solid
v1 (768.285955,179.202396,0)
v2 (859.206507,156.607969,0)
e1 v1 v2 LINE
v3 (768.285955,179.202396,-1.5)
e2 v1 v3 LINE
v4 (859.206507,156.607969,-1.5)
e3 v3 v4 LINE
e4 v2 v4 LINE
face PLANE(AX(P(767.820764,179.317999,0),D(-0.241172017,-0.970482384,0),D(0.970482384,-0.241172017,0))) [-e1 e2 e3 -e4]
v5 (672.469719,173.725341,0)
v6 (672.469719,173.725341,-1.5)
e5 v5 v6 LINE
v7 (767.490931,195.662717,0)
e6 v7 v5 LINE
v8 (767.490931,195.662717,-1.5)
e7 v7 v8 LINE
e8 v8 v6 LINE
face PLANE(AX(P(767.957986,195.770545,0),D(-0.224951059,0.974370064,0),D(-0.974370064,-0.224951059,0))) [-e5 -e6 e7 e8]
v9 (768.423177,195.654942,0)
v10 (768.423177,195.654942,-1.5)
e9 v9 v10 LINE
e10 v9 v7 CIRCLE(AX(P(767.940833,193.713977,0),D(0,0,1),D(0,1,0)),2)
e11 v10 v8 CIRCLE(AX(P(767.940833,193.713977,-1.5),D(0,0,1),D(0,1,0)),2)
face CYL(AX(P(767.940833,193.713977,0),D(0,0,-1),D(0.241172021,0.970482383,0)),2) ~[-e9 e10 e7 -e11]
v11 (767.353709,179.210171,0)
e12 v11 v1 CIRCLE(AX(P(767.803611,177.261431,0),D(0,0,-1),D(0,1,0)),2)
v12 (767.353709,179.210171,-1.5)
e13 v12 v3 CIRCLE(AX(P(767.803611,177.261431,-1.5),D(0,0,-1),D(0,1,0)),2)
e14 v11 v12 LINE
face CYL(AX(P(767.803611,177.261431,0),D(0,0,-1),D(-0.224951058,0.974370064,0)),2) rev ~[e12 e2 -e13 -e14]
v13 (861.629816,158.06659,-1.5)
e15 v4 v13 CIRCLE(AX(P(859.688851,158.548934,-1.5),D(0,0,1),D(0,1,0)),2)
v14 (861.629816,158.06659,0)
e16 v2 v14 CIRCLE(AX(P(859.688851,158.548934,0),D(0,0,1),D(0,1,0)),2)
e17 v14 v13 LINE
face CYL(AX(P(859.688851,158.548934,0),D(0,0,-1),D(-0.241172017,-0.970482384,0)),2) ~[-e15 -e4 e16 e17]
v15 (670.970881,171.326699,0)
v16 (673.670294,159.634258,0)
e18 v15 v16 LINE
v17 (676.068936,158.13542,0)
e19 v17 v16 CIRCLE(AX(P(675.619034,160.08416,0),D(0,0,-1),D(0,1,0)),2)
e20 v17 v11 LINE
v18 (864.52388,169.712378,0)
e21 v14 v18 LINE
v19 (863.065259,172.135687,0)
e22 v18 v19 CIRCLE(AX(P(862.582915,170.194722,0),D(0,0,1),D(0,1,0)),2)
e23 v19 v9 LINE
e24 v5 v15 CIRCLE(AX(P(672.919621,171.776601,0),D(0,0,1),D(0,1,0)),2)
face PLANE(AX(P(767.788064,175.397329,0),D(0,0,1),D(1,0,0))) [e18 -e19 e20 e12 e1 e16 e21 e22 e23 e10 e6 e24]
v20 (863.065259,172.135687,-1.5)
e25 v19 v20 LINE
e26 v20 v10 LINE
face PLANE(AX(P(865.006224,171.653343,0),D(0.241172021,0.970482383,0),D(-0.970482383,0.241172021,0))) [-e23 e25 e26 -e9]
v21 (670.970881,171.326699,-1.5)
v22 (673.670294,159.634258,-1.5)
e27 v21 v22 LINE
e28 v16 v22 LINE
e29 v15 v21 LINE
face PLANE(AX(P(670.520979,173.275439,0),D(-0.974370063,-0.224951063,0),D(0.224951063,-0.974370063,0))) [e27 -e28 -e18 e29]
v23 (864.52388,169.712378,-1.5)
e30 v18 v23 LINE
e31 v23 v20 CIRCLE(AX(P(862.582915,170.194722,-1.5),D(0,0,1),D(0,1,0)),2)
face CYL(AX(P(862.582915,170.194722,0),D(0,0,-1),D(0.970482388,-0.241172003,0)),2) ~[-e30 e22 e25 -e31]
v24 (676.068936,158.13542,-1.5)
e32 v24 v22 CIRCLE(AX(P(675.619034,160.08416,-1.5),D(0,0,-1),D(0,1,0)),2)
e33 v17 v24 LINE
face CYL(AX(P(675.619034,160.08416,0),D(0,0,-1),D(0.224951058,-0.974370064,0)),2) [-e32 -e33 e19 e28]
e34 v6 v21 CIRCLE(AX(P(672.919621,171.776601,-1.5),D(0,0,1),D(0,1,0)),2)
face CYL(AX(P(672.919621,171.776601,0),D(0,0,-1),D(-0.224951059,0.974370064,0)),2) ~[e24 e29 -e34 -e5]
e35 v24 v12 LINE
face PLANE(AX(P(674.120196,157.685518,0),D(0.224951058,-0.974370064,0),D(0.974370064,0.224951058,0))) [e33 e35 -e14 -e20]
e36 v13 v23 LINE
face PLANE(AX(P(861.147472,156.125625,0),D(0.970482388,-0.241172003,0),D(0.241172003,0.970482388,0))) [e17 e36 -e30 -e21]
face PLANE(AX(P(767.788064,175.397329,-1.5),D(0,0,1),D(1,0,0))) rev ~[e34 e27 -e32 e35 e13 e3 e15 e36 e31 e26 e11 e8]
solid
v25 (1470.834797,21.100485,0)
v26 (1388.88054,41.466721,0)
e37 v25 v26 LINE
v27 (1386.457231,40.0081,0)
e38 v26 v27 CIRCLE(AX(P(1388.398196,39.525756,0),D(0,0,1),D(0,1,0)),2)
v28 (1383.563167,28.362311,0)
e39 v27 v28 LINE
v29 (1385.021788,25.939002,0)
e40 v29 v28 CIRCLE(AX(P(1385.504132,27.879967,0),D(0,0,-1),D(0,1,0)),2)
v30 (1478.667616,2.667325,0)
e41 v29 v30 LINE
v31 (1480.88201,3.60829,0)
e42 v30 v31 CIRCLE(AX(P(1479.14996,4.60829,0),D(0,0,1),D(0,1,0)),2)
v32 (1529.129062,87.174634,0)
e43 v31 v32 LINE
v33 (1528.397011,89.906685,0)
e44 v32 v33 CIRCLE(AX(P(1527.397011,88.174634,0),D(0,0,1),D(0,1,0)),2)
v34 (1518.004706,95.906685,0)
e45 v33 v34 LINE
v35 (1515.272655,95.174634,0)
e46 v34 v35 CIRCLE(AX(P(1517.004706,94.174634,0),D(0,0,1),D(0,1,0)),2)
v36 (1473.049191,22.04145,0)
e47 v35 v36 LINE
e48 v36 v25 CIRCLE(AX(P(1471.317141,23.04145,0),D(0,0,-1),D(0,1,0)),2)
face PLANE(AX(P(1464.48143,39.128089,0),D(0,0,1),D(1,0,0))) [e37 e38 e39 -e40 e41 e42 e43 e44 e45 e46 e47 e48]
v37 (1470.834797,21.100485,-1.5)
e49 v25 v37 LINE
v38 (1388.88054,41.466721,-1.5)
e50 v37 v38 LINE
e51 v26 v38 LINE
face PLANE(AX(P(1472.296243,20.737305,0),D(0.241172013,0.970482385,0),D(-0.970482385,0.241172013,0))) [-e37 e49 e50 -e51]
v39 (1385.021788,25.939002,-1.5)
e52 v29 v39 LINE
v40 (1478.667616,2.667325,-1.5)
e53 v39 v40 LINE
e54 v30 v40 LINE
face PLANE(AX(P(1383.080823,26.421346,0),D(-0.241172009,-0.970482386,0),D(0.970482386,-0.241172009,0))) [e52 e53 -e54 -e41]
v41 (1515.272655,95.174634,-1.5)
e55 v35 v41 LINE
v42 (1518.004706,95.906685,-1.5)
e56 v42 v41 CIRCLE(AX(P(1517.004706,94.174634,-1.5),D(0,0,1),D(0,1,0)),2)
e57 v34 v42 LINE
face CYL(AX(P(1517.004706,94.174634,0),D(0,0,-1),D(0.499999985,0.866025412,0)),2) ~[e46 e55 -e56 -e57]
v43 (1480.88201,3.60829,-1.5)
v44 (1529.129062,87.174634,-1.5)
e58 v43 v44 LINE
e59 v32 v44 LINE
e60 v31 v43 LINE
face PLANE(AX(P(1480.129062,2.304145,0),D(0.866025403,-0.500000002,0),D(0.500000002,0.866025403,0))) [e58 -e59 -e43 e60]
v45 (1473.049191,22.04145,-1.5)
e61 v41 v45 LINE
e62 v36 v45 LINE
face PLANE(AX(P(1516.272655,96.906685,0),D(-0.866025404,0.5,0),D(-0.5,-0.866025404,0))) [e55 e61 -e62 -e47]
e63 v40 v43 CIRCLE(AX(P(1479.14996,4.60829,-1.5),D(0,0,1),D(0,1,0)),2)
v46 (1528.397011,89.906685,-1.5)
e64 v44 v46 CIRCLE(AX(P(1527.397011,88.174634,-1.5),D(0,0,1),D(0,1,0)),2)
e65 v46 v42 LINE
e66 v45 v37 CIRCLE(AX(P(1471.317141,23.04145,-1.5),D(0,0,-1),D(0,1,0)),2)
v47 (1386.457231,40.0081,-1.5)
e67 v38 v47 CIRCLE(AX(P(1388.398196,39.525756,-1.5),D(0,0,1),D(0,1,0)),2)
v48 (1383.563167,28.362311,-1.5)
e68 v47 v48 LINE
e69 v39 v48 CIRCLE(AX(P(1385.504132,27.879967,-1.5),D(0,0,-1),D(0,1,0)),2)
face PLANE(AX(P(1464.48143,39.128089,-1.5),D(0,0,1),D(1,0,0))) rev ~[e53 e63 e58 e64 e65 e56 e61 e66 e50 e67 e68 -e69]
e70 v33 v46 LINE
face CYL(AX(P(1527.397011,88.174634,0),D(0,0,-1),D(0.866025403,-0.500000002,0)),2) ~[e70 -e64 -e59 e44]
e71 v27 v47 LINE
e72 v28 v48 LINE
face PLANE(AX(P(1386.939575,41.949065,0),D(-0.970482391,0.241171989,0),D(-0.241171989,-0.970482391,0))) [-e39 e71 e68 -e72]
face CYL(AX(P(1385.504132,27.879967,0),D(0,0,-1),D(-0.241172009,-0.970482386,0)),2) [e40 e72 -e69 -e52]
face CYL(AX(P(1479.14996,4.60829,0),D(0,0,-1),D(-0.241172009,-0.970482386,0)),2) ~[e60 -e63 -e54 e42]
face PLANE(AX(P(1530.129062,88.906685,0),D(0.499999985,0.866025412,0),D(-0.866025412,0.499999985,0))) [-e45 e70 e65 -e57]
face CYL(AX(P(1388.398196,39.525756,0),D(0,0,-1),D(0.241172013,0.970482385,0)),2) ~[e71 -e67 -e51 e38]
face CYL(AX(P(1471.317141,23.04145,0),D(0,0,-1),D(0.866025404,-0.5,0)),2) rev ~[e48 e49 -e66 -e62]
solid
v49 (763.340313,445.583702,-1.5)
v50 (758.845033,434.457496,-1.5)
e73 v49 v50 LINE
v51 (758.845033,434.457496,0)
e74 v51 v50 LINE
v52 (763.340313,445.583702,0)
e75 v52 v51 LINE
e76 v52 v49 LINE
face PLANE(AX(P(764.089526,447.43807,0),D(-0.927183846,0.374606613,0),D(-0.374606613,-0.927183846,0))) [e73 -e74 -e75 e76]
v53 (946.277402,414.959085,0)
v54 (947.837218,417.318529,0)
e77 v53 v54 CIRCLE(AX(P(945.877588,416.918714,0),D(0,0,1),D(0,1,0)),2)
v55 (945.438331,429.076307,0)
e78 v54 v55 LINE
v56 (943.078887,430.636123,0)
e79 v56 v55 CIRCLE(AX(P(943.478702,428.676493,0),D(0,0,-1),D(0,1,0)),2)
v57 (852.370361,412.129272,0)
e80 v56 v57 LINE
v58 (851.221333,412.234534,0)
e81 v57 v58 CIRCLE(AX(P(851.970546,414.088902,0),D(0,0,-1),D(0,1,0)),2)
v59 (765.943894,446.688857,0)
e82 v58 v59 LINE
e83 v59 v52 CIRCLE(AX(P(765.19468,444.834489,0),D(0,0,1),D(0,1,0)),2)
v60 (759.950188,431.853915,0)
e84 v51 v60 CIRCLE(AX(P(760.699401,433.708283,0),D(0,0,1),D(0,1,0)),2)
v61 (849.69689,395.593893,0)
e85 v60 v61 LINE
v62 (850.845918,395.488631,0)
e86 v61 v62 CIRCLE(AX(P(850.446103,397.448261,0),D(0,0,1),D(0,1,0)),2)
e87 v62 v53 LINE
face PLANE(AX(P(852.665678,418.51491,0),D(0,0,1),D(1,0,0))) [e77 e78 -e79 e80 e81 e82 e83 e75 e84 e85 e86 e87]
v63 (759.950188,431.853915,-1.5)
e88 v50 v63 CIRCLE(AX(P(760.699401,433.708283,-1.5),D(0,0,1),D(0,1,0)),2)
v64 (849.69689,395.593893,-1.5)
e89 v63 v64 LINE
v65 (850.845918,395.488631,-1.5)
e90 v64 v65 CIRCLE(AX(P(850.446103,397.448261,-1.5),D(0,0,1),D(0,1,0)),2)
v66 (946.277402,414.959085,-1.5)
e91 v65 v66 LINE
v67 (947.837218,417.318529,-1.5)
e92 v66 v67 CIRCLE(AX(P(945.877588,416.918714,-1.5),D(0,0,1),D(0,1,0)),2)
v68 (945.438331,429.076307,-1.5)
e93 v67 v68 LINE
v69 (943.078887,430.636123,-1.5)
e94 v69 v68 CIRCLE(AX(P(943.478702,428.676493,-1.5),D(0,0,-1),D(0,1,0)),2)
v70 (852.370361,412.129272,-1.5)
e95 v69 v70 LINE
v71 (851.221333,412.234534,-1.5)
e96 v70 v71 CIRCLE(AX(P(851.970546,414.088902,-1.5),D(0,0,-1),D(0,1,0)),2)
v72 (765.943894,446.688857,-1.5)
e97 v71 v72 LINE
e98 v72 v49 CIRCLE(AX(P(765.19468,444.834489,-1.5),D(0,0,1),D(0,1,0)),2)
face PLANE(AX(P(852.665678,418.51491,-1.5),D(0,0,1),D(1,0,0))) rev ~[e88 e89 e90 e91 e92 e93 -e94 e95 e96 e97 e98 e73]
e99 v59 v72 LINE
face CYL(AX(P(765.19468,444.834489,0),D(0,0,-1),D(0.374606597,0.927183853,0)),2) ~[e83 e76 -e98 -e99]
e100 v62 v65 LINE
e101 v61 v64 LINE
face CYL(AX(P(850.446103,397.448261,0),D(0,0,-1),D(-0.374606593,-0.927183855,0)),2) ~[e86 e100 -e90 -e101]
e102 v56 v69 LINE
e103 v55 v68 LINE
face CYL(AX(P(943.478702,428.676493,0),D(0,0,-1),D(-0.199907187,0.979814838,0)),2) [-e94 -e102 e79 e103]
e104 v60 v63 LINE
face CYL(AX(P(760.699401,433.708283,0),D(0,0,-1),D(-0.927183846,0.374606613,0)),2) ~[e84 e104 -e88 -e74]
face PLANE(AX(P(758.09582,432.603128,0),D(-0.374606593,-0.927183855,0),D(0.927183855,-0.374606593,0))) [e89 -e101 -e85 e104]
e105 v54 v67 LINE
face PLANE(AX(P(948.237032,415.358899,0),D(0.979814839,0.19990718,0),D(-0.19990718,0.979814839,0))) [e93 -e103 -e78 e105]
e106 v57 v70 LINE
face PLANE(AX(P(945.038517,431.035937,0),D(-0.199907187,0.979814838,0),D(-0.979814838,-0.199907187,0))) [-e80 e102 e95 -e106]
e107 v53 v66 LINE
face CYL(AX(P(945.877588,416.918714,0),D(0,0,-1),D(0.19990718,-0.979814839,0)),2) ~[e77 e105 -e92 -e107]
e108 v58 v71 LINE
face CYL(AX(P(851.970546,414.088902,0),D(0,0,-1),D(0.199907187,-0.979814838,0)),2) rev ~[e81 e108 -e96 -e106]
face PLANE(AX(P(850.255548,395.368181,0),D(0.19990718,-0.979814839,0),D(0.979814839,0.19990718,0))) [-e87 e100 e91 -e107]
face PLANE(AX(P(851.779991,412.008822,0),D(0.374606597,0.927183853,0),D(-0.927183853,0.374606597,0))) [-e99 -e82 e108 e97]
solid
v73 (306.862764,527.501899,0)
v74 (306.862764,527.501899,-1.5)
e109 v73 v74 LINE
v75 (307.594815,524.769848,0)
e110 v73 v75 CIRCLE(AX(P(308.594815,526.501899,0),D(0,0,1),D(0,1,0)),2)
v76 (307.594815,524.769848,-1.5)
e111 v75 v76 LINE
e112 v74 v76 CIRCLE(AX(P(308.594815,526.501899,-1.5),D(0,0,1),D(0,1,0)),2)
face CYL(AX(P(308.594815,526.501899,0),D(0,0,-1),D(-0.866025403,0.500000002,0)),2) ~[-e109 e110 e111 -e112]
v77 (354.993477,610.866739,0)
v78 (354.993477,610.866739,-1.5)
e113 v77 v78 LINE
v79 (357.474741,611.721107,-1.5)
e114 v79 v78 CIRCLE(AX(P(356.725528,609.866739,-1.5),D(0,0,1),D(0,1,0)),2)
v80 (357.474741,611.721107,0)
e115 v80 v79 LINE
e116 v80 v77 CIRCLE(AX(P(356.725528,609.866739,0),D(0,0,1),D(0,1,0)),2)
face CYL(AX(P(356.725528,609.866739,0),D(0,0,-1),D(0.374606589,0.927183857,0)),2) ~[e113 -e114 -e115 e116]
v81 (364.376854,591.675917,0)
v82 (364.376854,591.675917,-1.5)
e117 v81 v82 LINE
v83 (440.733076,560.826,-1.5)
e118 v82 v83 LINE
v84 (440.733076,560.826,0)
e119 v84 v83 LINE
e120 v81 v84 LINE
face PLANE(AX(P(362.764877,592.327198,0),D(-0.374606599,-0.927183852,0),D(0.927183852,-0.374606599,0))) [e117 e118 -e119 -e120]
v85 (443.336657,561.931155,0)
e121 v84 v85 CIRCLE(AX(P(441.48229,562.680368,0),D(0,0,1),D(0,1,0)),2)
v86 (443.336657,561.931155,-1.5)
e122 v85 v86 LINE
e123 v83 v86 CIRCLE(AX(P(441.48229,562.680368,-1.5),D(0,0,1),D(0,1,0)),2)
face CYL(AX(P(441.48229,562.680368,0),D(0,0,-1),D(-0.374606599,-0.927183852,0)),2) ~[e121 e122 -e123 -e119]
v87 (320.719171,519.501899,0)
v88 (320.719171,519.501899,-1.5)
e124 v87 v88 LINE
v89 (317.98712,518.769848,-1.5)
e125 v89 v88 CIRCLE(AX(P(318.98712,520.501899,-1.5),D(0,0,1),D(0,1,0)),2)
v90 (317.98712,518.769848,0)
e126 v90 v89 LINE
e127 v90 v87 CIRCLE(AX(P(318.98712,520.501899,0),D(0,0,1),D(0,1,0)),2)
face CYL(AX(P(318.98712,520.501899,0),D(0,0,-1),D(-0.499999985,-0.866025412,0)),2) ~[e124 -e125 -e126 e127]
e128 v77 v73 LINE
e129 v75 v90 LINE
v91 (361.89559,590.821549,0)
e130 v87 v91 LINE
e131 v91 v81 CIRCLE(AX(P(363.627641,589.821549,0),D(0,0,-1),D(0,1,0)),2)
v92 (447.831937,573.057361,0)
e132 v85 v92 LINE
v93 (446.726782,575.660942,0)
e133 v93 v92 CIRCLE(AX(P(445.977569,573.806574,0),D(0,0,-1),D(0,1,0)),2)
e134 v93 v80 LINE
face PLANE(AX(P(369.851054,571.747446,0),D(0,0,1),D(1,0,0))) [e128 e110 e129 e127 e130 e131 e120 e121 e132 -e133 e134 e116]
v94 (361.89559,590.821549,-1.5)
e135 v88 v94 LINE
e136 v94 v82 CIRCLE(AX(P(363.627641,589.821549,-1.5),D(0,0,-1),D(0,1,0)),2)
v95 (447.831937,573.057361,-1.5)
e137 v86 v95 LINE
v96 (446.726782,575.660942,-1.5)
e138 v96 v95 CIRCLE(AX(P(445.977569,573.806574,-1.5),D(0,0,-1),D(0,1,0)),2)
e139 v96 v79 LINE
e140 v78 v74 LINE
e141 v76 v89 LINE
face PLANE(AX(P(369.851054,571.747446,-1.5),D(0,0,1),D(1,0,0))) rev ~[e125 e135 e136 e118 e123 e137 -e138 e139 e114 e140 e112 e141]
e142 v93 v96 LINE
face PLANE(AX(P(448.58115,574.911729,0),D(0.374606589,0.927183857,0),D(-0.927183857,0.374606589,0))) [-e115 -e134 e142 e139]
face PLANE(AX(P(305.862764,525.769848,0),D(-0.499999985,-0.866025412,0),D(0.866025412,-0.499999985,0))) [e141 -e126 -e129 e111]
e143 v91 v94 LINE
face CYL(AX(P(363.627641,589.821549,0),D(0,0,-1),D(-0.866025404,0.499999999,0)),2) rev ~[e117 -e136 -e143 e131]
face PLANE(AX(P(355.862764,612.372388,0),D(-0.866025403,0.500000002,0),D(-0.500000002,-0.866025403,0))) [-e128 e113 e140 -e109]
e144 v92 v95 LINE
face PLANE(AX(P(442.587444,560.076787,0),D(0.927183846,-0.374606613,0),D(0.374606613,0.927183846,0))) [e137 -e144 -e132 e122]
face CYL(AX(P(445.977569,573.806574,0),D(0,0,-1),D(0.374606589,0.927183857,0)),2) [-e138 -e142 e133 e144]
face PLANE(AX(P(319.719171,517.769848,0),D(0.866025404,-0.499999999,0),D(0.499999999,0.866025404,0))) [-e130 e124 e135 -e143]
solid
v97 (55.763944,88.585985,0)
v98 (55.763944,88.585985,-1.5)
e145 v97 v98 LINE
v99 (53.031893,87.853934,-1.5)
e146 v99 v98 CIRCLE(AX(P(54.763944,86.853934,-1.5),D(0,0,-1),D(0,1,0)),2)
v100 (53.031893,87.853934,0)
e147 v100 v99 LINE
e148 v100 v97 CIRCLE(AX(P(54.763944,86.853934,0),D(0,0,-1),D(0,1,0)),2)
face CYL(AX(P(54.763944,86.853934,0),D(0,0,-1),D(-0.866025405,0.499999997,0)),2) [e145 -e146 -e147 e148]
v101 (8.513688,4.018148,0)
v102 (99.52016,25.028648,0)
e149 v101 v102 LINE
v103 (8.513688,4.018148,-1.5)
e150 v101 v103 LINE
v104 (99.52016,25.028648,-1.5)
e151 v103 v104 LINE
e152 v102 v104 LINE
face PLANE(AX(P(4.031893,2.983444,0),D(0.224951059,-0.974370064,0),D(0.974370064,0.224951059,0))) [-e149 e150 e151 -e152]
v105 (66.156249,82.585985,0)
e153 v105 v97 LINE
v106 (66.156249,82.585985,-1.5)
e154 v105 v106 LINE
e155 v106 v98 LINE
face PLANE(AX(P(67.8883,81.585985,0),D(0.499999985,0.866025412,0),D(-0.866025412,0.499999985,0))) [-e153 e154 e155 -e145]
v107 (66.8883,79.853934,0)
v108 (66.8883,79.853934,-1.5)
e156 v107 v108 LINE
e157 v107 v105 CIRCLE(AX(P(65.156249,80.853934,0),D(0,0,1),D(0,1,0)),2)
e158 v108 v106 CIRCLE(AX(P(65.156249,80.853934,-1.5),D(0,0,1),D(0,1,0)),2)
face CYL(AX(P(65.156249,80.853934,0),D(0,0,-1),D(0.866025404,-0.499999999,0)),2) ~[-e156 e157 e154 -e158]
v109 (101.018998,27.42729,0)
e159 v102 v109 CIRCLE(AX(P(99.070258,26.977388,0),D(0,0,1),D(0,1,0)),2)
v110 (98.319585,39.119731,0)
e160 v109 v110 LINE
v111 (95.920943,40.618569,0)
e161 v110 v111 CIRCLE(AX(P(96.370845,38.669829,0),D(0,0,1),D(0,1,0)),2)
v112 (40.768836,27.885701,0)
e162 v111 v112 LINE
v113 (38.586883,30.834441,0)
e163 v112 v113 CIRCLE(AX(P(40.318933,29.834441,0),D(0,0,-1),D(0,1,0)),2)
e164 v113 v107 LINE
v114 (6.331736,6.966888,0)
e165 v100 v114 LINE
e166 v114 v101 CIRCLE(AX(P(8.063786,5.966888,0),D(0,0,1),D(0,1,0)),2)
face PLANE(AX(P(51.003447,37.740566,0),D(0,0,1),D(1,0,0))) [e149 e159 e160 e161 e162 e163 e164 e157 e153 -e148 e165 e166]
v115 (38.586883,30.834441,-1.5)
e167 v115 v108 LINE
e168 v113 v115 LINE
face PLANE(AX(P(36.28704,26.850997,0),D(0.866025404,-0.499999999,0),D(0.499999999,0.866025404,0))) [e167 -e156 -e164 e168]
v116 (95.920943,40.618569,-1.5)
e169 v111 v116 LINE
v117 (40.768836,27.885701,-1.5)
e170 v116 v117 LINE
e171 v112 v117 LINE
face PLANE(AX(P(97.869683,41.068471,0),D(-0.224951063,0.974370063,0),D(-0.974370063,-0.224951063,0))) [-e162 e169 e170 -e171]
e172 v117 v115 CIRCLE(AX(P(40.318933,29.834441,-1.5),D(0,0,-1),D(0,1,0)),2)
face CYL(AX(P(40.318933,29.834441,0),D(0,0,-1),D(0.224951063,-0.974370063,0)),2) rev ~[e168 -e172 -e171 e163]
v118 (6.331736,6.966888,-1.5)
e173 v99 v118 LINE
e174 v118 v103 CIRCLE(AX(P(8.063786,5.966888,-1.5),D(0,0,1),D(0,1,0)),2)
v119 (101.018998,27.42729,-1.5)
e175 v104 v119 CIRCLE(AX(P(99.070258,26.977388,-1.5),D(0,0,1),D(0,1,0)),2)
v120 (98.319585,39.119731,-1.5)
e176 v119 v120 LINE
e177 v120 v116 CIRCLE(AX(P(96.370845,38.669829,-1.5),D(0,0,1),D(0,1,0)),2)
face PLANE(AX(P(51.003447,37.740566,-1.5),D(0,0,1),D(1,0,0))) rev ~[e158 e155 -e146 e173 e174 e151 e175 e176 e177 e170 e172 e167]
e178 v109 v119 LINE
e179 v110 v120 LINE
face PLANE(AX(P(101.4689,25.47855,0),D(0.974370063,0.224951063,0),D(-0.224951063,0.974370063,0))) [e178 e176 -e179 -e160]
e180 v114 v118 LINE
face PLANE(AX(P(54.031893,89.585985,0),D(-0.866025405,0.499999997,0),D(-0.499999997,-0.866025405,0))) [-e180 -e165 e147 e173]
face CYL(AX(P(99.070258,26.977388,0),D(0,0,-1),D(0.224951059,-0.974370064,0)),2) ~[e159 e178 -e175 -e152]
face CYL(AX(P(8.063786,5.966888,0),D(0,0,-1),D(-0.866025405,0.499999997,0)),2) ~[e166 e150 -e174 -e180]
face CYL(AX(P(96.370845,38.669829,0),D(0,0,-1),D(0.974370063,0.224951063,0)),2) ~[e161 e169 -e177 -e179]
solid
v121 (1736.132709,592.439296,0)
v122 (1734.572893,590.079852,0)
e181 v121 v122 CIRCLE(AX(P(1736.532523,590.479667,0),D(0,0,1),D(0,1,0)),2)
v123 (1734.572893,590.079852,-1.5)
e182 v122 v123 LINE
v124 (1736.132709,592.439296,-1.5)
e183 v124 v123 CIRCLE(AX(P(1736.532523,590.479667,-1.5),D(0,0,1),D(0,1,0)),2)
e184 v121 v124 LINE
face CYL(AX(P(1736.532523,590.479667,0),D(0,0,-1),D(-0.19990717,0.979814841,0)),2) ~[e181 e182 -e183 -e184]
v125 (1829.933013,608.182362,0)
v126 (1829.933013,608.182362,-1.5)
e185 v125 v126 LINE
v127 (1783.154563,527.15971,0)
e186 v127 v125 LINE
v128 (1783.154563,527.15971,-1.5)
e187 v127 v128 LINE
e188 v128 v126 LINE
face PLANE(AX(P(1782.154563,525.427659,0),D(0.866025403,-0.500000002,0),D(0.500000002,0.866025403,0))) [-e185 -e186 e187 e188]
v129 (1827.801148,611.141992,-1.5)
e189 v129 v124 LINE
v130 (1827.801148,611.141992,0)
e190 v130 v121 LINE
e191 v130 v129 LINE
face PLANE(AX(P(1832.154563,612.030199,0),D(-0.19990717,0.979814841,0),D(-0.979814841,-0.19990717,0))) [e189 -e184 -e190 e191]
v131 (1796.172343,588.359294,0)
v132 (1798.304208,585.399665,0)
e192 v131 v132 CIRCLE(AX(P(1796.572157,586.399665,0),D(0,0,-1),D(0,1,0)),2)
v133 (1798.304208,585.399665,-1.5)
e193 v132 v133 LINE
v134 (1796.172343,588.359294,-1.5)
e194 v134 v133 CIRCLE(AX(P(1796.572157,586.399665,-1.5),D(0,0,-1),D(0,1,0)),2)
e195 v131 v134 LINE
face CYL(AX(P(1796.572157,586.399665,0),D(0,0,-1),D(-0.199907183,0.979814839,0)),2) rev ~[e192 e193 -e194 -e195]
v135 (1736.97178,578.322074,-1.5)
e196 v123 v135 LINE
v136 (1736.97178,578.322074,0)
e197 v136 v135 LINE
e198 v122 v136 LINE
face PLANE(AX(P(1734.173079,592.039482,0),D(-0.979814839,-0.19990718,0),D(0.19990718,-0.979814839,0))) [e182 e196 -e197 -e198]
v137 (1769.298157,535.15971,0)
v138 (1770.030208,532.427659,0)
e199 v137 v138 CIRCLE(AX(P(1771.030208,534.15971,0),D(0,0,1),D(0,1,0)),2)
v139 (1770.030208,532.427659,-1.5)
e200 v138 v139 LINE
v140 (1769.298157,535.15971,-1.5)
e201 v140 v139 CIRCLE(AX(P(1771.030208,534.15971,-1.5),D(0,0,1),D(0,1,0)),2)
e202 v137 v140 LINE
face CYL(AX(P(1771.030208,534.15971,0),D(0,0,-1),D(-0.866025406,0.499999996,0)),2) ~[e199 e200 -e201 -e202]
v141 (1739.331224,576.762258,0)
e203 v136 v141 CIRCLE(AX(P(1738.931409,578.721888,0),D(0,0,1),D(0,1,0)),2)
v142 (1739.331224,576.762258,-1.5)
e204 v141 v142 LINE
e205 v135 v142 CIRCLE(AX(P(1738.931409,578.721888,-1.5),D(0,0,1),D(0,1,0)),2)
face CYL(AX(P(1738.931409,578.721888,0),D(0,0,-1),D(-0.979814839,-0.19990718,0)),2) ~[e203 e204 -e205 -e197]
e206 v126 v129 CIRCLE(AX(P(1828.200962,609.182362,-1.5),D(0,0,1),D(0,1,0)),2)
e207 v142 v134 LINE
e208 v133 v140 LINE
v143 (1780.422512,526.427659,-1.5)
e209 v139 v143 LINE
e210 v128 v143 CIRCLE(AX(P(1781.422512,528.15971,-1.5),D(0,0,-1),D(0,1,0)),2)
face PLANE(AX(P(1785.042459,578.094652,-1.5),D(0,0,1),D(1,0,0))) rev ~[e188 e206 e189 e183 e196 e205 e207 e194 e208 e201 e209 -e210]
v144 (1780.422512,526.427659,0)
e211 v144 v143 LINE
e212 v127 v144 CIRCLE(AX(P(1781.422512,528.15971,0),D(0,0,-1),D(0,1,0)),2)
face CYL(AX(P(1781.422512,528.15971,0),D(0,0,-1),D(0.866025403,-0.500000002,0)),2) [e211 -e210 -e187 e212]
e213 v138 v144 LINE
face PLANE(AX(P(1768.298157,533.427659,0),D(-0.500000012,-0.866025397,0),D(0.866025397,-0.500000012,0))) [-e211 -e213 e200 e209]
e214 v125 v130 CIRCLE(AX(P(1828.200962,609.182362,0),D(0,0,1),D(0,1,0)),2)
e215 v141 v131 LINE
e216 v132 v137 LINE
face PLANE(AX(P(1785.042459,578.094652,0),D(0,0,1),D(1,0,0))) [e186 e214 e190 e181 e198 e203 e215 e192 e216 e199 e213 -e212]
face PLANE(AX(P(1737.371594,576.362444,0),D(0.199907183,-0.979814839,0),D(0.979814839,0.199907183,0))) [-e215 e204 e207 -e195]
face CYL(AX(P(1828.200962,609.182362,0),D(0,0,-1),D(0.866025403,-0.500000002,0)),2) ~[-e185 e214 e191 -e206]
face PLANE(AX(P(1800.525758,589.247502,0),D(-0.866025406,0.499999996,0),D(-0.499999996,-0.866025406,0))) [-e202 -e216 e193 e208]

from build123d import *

# Parameters (mm, degrees)
F2_DEPTH = 1.5
F3_R     = 2
F4_R     = 2
F5_R     = 2
F6_R     = 2
F7_R     = 2
F8_R     = 2


with BuildPart() as f2:
    # F1 (on Top) → F2 (new body)
    with BuildSketch(Plane.XY):
        Polygon((674.120196, 157.685518), (767.820764, 179.317999), (861.147472, 156.125625), (865.006224, 171.653343), (767.957986, 195.770545), (670.520979, 173.275439), align=None)
        Polygon((448.58115, 574.911729), (355.862764, 612.372388), (305.862764, 525.769848), (319.719171, 517.769848), (362.764877, 592.327198), (442.587444, 560.076787), align=None)
        Polygon((945.038517, 431.035937), (851.779991, 412.008822), (764.089526, 447.43807), (758.09582, 432.603128), (850.255548, 395.368181), (948.237032, 415.358899), align=None)
        Polygon((54.031893, 89.585985), (4.031893, 2.983444), (101.4689, 25.47855), (97.869683, 41.068471), (36.28704, 26.850997), (67.8883, 81.585985), align=None)
        Polygon((1782.154563, 525.427659), (1832.154563, 612.030199), (1734.173079, 592.039482), (1737.371594, 576.362444), (1800.525758, 589.247502), (1768.298157, 533.427659), align=None)
        Polygon((1383.080823, 26.421346), (1480.129062, 2.304145), (1530.129062, 88.906685), (1516.272655, 96.906685), (1472.296243, 20.737305), (1386.939575, 41.949065), align=None)
    extrude(amount=-F2_DEPTH)

    # F3
    f3_edges = [f2.edges().sort_by_distance(p)[0] for p in [
        (355.862764, 612.372388, -0.75),
        (448.58115, 574.911729, -0.75),
        (442.587444, 560.076787, -0.75),
        (362.764877, 592.327198, -0.75),
        (319.719171, 517.769848, -0.75),
        (305.862764, 525.769848, -0.75),
    ]]
    fillet(f3_edges, radius=F3_R)

    # F4
    f4_edges = [f2.edges().sort_by_distance(p)[0] for p in [
        (764.089526, 447.43807, -0.75),
        (758.09582, 432.603128, -0.75),
        (851.779991, 412.008822, -0.75),
        (945.038517, 431.035937, -0.75),
        (948.237032, 415.358899, -0.75),
        (850.255548, 395.368181, -0.75),
    ]]
    fillet(f4_edges, radius=F4_R)

    # F5
    f5_edges = [f2.edges().sort_by_distance(p)[0] for p in [
        (1734.173079, 592.039482, -0.75),
        (1737.371594, 576.362444, -0.75),
        (1768.298157, 533.427659, -0.75),
        (1782.154563, 525.427659, -0.75),
        (1800.525758, 589.247502, -0.75),
        (1832.154563, 612.030199, -0.75),
    ]]
    fillet(f5_edges, radius=F5_R)

    # F6
    f6_edges = [f2.edges().sort_by_distance(p)[0] for p in [
        (1386.939575, 41.949065, -0.75),
        (1383.080823, 26.421346, -0.75),
        (1472.296243, 20.737305, -0.75),
        (1480.129062, 2.304145, -0.75),
        (1516.272655, 96.906685, -0.75),
        (1530.129062, 88.906685, -0.75),
    ]]
    fillet(f6_edges, radius=F6_R)

    # F7
    f7_edges = [f2.edges().sort_by_distance(p)[0] for p in [
        (674.120196, 157.685518, -0.75),
        (670.520979, 173.275439, -0.75),
        (767.820764, 179.317999, -0.75),
        (861.147472, 156.125625, -0.75),
        (865.006224, 171.653343, -0.75),
        (767.957986, 195.770545, -0.75),
    ]]
    fillet(f7_edges, radius=F7_R)

    # F8
    f8_edges = [f2.edges().sort_by_distance(p)[0] for p in [
        (101.4689, 25.47855, -0.75),
        (97.869683, 41.068471, -0.75),
        (4.031893, 2.983444, -0.75),
        (54.031893, 89.585985, -0.75),
        (67.8883, 81.585985, -0.75),
        (36.28704, 26.850997, -0.75),
    ]]
    fillet(f8_edges, radius=F8_R)


solid = f2.part
